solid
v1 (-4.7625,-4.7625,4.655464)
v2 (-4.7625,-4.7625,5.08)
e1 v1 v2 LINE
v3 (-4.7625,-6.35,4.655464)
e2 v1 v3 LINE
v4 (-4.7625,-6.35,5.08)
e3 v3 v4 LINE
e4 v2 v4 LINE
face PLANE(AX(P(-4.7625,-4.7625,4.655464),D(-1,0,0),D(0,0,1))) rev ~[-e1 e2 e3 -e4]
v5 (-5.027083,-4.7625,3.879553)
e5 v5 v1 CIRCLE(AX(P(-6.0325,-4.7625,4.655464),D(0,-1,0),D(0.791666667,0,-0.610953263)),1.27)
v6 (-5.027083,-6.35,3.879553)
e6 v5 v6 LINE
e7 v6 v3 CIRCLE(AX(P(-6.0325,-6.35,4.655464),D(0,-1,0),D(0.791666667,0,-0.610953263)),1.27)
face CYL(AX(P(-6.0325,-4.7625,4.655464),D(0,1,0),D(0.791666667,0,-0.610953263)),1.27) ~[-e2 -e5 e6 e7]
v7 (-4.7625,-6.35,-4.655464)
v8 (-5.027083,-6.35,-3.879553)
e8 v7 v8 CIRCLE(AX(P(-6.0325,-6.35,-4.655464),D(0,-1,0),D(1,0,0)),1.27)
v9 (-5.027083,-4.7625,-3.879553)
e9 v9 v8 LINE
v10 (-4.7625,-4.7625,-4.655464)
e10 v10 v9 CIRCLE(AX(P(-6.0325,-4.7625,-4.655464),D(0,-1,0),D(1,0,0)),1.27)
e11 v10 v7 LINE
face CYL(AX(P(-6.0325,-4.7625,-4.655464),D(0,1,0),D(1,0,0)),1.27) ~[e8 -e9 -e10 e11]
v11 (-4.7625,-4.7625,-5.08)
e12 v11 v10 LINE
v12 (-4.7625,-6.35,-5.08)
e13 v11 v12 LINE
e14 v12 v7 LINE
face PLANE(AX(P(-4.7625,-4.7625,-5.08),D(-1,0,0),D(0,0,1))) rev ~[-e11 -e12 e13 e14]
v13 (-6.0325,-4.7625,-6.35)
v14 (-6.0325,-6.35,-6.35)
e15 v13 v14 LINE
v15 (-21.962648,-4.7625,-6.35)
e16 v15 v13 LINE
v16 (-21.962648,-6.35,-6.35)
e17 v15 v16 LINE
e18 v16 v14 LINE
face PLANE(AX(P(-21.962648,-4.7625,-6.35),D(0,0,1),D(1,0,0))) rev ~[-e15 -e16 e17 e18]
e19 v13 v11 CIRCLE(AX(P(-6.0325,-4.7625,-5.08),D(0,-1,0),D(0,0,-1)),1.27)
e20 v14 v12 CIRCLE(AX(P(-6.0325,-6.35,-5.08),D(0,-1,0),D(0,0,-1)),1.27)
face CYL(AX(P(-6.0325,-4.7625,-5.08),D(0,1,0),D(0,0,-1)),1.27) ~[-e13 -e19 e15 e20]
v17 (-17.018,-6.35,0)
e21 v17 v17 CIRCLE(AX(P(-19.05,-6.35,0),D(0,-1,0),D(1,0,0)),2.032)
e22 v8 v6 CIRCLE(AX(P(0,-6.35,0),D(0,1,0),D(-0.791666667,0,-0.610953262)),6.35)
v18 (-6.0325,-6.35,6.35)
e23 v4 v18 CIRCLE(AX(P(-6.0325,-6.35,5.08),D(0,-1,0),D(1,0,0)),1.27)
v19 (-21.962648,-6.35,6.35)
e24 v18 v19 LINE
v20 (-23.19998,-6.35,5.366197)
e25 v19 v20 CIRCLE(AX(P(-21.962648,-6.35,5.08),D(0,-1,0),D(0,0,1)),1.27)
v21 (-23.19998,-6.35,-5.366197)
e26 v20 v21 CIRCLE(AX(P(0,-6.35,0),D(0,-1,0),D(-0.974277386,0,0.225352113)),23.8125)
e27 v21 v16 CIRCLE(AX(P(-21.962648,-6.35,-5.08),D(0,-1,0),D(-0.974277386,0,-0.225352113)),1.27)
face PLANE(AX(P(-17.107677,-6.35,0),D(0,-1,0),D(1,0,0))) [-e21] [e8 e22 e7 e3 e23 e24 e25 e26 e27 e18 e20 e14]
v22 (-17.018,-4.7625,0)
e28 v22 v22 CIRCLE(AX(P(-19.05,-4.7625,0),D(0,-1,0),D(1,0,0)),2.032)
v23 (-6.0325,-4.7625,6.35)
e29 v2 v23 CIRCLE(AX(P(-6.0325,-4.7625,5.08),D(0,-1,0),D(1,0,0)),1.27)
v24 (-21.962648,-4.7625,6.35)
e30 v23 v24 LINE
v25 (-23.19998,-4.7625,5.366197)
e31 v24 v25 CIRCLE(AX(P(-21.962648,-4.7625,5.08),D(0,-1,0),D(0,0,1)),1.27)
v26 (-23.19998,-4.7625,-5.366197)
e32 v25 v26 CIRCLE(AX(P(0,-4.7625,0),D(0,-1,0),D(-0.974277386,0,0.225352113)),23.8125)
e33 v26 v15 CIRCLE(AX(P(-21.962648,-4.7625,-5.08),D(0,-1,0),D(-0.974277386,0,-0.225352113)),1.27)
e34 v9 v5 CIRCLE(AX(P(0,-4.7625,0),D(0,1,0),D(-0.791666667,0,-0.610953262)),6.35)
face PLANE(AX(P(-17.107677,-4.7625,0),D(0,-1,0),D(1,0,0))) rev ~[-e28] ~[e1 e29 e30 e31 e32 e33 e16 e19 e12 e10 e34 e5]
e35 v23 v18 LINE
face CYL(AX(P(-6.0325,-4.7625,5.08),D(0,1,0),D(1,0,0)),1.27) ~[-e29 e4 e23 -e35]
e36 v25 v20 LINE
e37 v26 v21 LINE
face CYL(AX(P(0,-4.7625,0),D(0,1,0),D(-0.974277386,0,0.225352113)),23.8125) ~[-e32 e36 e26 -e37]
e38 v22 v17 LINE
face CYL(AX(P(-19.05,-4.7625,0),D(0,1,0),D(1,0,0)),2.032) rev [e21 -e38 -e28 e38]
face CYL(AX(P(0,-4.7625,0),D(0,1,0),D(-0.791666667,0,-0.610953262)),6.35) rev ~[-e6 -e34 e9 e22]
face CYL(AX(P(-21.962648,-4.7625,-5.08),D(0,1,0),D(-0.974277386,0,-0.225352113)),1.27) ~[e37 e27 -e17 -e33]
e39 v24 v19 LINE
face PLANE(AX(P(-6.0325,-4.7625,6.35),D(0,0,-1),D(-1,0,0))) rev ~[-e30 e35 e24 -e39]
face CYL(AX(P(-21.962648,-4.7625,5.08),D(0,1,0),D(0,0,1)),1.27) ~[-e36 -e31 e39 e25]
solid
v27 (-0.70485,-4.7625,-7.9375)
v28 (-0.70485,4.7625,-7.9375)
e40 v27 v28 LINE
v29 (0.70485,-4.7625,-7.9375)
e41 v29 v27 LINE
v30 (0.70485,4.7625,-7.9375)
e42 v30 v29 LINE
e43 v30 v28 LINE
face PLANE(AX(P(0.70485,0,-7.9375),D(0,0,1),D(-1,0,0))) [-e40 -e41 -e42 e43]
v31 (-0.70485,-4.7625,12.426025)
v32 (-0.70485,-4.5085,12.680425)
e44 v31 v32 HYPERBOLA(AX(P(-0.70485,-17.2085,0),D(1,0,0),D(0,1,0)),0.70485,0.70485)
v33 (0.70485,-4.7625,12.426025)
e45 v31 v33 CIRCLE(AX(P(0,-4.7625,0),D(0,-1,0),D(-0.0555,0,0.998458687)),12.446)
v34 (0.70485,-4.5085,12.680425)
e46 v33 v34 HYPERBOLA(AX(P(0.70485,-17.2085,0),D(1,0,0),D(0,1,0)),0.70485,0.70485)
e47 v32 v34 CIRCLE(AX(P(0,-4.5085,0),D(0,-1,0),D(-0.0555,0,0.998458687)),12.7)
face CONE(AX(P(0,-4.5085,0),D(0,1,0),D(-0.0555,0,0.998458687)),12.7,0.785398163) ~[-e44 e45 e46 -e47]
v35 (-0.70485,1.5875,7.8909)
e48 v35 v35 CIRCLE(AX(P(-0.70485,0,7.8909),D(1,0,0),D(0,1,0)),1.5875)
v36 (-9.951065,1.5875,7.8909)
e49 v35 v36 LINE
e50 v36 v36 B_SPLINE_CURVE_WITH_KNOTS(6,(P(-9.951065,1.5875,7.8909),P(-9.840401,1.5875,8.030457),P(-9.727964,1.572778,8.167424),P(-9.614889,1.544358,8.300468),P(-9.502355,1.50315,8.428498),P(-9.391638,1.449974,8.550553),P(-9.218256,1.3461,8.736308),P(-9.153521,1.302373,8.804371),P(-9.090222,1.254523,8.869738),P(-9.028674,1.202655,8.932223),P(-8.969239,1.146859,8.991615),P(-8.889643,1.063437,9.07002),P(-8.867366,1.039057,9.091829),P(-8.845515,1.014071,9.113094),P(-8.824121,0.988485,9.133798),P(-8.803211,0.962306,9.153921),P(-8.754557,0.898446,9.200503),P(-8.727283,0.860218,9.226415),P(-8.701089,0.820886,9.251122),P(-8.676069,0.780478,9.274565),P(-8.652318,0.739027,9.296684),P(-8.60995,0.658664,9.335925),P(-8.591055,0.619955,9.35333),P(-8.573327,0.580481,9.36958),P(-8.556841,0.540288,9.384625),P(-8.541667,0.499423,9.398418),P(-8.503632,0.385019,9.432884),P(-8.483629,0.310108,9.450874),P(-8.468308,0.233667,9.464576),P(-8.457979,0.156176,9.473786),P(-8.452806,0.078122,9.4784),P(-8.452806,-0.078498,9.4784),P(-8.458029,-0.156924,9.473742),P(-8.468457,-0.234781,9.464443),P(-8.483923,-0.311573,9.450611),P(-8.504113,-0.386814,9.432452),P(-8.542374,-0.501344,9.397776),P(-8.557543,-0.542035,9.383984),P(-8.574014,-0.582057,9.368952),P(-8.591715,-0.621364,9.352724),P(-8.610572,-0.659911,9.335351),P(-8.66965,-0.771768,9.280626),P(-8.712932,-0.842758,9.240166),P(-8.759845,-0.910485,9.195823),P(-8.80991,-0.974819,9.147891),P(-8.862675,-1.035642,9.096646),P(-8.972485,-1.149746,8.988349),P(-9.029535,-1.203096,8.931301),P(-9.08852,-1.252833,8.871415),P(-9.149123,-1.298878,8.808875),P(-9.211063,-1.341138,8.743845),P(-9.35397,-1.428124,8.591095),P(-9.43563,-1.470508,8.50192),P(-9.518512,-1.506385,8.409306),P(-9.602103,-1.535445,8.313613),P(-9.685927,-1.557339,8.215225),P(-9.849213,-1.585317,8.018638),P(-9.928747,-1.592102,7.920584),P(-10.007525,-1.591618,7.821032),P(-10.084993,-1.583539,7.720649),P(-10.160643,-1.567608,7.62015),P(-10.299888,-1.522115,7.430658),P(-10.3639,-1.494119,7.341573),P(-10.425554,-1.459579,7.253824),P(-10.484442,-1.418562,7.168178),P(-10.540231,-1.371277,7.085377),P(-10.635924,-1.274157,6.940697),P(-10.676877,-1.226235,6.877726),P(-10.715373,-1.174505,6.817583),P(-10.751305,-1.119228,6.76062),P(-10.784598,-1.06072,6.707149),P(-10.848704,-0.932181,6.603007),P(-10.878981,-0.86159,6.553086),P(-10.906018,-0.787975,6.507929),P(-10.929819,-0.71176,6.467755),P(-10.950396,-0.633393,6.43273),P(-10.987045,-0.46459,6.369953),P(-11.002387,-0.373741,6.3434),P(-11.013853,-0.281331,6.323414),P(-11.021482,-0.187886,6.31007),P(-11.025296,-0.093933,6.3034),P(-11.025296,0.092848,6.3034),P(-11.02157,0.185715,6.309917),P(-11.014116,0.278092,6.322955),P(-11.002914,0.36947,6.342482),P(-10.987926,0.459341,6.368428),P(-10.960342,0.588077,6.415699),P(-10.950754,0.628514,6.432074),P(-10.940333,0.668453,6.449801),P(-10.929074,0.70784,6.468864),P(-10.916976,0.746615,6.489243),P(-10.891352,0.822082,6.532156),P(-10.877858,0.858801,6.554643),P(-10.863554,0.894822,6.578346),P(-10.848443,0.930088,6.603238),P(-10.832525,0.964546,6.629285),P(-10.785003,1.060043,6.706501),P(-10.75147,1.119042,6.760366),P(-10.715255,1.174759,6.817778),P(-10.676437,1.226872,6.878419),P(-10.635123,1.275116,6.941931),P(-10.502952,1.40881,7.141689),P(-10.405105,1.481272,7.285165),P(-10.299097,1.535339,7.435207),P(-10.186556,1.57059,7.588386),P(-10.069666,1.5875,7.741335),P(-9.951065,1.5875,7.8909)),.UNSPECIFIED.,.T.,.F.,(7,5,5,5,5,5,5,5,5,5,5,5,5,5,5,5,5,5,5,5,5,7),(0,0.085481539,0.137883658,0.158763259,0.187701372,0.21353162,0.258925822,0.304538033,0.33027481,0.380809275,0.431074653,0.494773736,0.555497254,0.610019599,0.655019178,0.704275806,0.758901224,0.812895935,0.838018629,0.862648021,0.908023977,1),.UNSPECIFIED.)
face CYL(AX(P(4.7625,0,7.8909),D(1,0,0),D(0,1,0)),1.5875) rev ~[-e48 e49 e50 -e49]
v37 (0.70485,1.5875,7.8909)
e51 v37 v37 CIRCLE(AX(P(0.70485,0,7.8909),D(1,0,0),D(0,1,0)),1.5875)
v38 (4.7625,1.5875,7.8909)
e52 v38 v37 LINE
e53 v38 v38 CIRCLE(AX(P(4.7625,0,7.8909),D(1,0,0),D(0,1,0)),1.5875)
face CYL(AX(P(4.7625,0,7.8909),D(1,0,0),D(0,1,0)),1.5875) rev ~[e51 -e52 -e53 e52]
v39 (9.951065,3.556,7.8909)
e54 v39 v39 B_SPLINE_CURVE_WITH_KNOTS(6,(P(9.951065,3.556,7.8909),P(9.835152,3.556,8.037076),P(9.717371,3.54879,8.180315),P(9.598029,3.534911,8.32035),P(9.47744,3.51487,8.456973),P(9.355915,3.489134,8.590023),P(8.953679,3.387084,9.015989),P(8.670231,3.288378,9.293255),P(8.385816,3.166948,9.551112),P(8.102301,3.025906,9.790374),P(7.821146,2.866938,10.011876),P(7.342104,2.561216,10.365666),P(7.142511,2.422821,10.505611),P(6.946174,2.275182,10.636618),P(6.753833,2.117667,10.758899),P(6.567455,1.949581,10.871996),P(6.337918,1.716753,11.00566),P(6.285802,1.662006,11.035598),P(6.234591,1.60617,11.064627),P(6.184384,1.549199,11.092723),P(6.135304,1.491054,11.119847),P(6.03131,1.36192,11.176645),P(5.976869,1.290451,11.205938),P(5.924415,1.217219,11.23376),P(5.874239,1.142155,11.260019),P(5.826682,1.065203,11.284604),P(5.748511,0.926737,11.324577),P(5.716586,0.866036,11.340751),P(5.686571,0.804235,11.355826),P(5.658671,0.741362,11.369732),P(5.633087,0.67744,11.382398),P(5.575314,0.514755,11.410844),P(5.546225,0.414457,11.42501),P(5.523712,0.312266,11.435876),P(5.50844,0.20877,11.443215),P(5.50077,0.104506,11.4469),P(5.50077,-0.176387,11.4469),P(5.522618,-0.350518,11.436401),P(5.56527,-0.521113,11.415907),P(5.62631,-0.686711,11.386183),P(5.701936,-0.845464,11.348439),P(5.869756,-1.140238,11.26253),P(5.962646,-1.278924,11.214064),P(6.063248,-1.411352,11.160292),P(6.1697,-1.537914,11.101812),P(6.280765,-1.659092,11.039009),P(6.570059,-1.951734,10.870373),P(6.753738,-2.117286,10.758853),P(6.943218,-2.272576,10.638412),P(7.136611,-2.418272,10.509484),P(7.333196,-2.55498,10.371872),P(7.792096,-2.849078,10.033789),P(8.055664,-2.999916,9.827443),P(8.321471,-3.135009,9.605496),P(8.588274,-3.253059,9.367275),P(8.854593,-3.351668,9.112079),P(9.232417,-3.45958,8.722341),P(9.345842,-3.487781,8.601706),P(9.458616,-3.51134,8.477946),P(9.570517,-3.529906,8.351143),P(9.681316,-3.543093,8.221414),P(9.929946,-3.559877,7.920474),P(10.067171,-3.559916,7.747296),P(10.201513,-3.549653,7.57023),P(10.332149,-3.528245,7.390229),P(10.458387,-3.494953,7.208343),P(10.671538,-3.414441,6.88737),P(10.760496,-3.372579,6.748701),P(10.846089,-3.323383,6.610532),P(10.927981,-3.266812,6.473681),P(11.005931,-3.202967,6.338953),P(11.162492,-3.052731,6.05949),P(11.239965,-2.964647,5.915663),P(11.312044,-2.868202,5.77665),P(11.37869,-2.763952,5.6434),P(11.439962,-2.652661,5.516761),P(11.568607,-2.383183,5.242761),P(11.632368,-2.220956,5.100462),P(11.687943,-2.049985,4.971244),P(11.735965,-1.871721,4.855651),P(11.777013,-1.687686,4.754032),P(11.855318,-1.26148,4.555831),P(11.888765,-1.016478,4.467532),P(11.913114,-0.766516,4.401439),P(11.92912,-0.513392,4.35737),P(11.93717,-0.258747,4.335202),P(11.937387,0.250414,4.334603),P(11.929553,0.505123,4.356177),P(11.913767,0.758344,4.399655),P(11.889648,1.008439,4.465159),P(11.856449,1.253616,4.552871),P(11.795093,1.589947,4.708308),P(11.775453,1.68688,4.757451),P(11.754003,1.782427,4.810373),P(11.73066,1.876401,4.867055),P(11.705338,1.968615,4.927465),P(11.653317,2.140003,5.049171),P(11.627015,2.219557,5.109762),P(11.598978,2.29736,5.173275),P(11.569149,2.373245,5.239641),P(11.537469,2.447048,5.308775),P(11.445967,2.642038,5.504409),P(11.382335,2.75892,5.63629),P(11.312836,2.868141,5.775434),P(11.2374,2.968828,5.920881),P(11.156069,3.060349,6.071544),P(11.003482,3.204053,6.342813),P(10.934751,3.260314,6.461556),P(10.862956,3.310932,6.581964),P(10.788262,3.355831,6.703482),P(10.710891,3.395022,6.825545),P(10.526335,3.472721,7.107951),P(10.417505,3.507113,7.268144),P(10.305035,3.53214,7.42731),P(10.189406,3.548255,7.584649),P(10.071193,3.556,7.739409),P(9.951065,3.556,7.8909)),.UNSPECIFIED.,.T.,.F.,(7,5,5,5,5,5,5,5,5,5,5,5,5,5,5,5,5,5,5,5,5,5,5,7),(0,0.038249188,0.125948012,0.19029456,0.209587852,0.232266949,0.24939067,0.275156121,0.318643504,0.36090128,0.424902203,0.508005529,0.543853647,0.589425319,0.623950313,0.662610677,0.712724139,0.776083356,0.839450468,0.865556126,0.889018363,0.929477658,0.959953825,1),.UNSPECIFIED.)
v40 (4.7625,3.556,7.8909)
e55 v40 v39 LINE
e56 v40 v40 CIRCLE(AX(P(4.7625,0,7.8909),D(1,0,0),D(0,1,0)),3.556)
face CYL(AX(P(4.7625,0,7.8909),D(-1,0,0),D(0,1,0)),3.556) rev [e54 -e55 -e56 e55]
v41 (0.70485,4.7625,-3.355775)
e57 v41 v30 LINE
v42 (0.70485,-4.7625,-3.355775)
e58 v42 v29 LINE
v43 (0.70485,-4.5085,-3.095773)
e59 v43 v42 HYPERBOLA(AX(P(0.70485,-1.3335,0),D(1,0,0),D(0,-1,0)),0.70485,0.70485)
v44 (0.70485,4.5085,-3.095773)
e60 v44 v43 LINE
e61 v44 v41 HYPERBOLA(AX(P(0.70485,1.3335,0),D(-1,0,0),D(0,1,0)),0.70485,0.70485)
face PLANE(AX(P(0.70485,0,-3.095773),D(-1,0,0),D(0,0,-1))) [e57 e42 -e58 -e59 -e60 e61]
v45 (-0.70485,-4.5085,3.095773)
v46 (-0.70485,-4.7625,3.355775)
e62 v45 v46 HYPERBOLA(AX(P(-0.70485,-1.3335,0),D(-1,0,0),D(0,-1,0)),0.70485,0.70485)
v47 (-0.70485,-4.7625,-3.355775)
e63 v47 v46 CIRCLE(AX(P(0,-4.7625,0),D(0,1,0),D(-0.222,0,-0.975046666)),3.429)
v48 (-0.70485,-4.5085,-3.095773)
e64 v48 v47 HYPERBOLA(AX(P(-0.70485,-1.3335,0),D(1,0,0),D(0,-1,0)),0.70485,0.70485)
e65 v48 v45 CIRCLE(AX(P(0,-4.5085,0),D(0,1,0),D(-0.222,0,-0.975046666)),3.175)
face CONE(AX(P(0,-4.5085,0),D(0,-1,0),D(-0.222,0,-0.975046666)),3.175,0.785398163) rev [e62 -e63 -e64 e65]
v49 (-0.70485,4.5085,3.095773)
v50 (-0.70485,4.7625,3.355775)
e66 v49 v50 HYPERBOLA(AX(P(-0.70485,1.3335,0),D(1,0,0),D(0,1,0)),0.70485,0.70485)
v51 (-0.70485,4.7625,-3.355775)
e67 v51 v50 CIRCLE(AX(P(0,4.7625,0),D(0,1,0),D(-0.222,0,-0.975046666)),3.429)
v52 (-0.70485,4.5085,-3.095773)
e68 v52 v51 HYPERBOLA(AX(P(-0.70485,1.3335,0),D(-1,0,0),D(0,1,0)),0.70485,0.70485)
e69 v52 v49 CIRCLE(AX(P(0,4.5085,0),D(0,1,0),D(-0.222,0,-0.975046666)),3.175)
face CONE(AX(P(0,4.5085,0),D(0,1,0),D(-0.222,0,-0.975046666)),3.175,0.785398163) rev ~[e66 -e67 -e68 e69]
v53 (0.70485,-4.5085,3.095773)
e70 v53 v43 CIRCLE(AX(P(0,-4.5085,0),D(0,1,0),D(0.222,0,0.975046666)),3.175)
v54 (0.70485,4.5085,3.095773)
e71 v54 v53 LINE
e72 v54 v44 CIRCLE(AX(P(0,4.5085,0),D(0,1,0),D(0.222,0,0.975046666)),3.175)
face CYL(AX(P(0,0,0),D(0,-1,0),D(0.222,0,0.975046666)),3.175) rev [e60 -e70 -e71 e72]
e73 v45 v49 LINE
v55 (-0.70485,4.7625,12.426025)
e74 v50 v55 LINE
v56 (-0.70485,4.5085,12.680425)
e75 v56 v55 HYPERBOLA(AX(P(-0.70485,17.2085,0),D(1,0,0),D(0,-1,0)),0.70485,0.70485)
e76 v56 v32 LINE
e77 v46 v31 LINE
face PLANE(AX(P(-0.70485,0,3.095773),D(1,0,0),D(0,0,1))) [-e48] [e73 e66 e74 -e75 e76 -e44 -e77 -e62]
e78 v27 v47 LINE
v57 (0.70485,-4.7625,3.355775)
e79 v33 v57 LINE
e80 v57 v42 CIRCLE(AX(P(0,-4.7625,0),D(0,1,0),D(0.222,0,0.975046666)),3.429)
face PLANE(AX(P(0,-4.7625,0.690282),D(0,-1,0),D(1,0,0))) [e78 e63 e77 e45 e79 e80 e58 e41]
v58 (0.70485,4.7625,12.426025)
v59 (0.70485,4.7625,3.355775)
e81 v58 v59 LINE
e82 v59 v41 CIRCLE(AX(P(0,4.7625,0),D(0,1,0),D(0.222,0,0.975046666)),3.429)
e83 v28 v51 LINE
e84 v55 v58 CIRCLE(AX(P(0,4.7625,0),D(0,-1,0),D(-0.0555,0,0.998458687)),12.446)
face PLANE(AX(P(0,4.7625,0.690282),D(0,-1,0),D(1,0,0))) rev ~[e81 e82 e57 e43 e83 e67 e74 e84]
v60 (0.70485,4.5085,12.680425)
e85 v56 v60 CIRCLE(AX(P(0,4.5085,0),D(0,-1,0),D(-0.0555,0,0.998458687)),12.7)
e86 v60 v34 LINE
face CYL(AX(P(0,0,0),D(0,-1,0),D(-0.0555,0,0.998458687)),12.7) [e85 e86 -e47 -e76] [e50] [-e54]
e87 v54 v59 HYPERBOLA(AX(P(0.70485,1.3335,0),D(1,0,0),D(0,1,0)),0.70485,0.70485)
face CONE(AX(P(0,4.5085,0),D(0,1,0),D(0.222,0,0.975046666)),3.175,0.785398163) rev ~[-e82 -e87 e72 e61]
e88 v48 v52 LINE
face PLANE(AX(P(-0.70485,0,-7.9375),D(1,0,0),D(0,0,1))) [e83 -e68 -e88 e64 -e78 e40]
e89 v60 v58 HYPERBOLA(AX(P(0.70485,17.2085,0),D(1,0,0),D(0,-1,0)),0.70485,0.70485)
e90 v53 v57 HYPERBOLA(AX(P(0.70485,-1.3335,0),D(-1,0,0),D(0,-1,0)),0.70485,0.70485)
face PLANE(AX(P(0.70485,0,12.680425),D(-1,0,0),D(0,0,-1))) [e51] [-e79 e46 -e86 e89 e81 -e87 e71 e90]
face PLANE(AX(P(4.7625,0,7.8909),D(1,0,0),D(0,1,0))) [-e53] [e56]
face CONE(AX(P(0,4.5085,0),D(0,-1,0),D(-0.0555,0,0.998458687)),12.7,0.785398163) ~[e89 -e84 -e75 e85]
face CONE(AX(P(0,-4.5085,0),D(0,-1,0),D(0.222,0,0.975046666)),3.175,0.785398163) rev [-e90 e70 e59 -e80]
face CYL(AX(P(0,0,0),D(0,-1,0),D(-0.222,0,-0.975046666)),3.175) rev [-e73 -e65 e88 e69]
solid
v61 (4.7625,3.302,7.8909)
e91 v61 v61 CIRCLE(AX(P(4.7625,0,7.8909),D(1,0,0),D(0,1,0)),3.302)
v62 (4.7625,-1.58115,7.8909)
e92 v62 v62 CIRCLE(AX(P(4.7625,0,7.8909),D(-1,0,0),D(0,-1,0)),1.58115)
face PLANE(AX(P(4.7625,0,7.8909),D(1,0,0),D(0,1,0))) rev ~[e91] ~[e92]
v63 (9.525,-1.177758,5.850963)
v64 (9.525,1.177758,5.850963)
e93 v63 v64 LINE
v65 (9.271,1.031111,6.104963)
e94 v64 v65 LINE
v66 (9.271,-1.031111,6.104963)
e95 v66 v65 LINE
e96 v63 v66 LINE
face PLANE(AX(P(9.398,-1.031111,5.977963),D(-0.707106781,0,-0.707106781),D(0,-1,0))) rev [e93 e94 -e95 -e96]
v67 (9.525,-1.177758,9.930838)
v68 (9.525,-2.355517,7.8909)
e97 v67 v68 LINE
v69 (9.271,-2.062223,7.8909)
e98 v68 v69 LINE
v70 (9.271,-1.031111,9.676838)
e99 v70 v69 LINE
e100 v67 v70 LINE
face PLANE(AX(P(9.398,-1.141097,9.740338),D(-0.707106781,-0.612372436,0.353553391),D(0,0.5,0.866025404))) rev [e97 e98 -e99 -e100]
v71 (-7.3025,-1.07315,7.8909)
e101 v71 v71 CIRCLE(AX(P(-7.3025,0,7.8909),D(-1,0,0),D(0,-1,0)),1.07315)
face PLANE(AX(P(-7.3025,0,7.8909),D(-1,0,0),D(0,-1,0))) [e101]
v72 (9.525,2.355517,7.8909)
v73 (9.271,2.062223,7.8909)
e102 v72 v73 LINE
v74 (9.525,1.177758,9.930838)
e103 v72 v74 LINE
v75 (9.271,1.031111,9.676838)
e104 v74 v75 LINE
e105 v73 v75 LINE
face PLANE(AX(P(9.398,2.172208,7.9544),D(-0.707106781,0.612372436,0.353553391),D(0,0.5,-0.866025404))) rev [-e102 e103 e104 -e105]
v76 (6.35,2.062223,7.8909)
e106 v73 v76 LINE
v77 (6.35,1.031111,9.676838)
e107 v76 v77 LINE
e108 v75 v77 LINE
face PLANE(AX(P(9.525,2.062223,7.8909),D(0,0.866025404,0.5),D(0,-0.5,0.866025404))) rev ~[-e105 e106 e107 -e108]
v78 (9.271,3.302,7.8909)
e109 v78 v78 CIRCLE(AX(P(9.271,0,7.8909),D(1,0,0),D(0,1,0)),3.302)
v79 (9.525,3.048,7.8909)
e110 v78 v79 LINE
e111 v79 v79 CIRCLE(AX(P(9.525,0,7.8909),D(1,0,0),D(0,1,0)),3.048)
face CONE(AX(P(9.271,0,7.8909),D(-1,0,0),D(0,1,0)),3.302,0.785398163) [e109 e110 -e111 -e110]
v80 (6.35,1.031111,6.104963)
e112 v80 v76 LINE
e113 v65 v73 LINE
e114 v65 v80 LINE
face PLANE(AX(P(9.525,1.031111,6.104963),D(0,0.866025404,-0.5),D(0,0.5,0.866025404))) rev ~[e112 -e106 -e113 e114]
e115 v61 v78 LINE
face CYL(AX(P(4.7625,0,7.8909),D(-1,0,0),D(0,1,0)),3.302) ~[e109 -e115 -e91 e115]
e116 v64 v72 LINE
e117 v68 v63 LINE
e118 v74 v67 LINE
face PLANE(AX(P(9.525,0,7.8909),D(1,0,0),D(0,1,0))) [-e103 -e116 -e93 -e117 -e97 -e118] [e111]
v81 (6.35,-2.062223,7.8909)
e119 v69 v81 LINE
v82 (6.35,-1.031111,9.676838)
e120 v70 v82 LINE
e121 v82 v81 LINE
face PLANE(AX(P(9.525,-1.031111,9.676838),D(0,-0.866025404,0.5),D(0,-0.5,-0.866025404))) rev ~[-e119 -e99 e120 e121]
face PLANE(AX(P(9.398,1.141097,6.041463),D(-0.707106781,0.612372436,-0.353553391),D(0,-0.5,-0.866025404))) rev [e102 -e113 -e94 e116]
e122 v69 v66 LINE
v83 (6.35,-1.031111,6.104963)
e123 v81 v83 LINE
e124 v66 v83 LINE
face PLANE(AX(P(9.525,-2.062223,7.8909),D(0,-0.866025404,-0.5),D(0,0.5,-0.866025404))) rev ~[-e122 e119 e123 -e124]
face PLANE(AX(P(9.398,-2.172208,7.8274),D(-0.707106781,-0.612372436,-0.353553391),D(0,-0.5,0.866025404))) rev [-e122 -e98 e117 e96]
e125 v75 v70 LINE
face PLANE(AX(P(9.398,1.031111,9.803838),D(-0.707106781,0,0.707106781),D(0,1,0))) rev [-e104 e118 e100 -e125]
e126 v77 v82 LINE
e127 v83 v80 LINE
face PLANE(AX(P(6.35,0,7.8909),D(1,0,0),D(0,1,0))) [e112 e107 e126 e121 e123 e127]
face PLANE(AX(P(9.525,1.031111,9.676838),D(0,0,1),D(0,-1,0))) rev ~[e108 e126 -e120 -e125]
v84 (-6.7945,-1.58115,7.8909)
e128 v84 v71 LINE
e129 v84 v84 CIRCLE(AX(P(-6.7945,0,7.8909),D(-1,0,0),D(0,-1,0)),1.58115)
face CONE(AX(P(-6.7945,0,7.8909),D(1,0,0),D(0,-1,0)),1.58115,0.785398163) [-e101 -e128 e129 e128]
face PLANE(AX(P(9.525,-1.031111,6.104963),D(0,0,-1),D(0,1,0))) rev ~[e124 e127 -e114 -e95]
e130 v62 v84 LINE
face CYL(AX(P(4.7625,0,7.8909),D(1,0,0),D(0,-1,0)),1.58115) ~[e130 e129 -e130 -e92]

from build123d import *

# Parameters (mm, degrees)
F1_DEPTH  = 4.7625
F2_SIZE   = 0.254
F3_R      = 2.032
F4_DEPTH  = 1.5875
F6_R      = 3.556
F7_DEPTH  = 25.4
F8_R      = 1.5875
F9_DEPTH  = 25.4
F10_R     = 3.302
F11_DEPTH = 4.7625
F12_R     = 1.58115
F13_DEPTH = 12.065
F14_SIZE  = 0.508
F16_DEPTH = 3.175
F17_SIZE  = 0.254


with BuildPart() as f1:
    # F0 (on Front) → F1 (new body, symmetric)
    with BuildSketch(Plane.XZ):
        with BuildLine():
            Line((-0.70485, 3.0957731631), (-0.70485, 12.6804253272))
            ThreePointArc((-0.70485, 12.6804253272), (0, -12.7), (0.70485, 12.6804253272))
            Line((0.70485, 12.6804253272), (0.70485, 3.0957731631))
            ThreePointArc((0.70485, 3.0957731631), (3.175, 0), (0.70485, -3.0957731631))
            Line((0.70485, -3.0957731631), (0.70485, -7.9375))
            Line((0.70485, -7.9375), (-0.70485, -7.9375))
            Line((-0.70485, -7.9375), (-0.70485, -3.0957731631))
            ThreePointArc((-0.70485, -3.0957731631), (-3.175, 0), (-0.70485, 3.0957731631))
        make_face()
    extrude(amount=F1_DEPTH, both=True)

    # F2
    f2_edges = [f1.edges().sort_by_distance(p)[0] for p in [
        (0, -4.7625, -12.7),
        (-3.175, -4.7625, 0),
        (0, 4.7625, -12.7),
        (-3.175, 4.7625, 0),
        (3.175, 4.7625, 0),
        (3.175, -4.7625, 0),
    ]]
    chamfer(f2_edges, length=F2_SIZE)

    # F6 (on offset) → F7 (cut)
    with BuildSketch(Plane.YZ.offset(4.7625)):
        with Locations((0, 7.8909002254)):
            Circle(F6_R)
    extrude(amount=F7_DEPTH, mode=Mode.SUBTRACT)

    # F8 (on face) → F9 (cut)
    with BuildSketch(Plane.YZ.offset(4.7625)):
        with Locations((0, 7.8909002254)):
            Circle(F8_R)
    extrude(amount=-F9_DEPTH, mode=Mode.SUBTRACT)


with BuildPart() as f4:
    # F3 (on face) → F4 (new body)
    with BuildSketch(Plane.XZ.offset(4.7625)):
        with BuildLine():
            Line((-10.7042242129, 6.35), (-21.962647979, 6.35))
            ThreePointArc((-21.962647979, 6.35), (-22.75303699, 6.0740750531), (-23.1999802595, 5.3661971831))
            ThreePointArc((-23.1999802595, 5.3661971831), (-23.8125, 0), (-23.1999802595, -5.3661971831))
            ThreePointArc((-23.1999802595, -5.3661971831), (-22.75303699, -6.0740750531), (-21.962647979, -6.35))
            Line((-21.962647979, -6.35), (-10.7042242129, -6.35))
            ThreePointArc((-10.7042242129, -6.35), (-12.446, 0), (-10.7042242129, 6.35))
        make_face()
        with Locations((-19.05, 0)):
            Circle(F3_R, mode=Mode.SUBTRACT)
        with BuildLine():
            Line((-6.0325, 6.35), (-10.7042242129, 6.35))
            ThreePointArc((-10.7042242129, 6.35), (-12.446, 0), (-10.7042242129, -6.35))
            Line((-10.7042242129, -6.35), (-6.0325, -6.35))
            ThreePointArc((-6.0325, -6.35), (-5.1344743879, -5.9780256121), (-4.7625, -5.08))
            Line((-4.7625, -5.08), (-4.7625, -4.6554638598))
            ThreePointArc((-4.7625, -4.6554638598), (-4.8304644001, -4.2455731223), (-5.0270833333, -3.8795532165))
            ThreePointArc((-5.0270833333, -3.8795532165), (-6.35, 0), (-5.0270833333, 3.8795532165))
            ThreePointArc((-5.0270833333, 3.8795532165), (-4.8304644001, 4.2455731223), (-4.7625, 4.6554638598))
            Line((-4.7625, 4.6554638598), (-4.7625, 5.08))
            ThreePointArc((-4.7625, 5.08), (-5.1344743879, 5.9780256121), (-6.0325, 6.35))
        make_face()
    extrude(amount=F4_DEPTH)


with BuildPart() as f11:
    # F10 (on face) → F11 (new body)
    with BuildSketch(Plane.YZ.offset(4.7625)):
        with Locations((0, 7.8909002254)):
            Circle(F10_R)
    extrude(amount=F11_DEPTH)

    # F12 (on face) → F13 (join)
    with BuildSketch(Plane(origin=(4.7625, 0, 0), x_dir=(0, -1, 0), z_dir=(-1, 0, 0))):
        with Locations((0, 7.8909002254)):
            Circle(F12_R)
    extrude(amount=F13_DEPTH)

    # F14
    f14_edges = [f11.edges().sort_by_distance(p)[0] for p in [
        (-7.3025, 1.58115, 7.8909),
    ]]
    chamfer(f14_edges, length=F14_SIZE)

    # F15 (on face) → F16 (cut)
    with BuildSketch(Plane.YZ.offset(9.525)):
        Polygon((1.0311114964, 9.6768377254), (-1.0311114964, 9.6768377254), (-2.0622229928, 7.8909002254), (-1.0311114964, 6.1049627254), (1.0311114964, 6.1049627254), (2.0622229928, 7.8909002254), align=None)
    extrude(amount=-F16_DEPTH, mode=Mode.SUBTRACT)

    # F17
    f17_edges = [f11.edges().sort_by_distance(p)[0] for p in [
        (9.525, -3.302, 7.8909),
        (9.525, 0, 9.676838),
        (9.525, -1.546667, 8.783869),
        (9.525, -1.546667, 6.997931),
        (9.525, 0, 6.104963),
        (9.525, 1.546667, 6.997931),
        (9.525, 1.546667, 8.783869),
    ]]
    chamfer(f17_edges, length=F17_SIZE)


solid = Compound([f1.part, f4.part, f11.part])
